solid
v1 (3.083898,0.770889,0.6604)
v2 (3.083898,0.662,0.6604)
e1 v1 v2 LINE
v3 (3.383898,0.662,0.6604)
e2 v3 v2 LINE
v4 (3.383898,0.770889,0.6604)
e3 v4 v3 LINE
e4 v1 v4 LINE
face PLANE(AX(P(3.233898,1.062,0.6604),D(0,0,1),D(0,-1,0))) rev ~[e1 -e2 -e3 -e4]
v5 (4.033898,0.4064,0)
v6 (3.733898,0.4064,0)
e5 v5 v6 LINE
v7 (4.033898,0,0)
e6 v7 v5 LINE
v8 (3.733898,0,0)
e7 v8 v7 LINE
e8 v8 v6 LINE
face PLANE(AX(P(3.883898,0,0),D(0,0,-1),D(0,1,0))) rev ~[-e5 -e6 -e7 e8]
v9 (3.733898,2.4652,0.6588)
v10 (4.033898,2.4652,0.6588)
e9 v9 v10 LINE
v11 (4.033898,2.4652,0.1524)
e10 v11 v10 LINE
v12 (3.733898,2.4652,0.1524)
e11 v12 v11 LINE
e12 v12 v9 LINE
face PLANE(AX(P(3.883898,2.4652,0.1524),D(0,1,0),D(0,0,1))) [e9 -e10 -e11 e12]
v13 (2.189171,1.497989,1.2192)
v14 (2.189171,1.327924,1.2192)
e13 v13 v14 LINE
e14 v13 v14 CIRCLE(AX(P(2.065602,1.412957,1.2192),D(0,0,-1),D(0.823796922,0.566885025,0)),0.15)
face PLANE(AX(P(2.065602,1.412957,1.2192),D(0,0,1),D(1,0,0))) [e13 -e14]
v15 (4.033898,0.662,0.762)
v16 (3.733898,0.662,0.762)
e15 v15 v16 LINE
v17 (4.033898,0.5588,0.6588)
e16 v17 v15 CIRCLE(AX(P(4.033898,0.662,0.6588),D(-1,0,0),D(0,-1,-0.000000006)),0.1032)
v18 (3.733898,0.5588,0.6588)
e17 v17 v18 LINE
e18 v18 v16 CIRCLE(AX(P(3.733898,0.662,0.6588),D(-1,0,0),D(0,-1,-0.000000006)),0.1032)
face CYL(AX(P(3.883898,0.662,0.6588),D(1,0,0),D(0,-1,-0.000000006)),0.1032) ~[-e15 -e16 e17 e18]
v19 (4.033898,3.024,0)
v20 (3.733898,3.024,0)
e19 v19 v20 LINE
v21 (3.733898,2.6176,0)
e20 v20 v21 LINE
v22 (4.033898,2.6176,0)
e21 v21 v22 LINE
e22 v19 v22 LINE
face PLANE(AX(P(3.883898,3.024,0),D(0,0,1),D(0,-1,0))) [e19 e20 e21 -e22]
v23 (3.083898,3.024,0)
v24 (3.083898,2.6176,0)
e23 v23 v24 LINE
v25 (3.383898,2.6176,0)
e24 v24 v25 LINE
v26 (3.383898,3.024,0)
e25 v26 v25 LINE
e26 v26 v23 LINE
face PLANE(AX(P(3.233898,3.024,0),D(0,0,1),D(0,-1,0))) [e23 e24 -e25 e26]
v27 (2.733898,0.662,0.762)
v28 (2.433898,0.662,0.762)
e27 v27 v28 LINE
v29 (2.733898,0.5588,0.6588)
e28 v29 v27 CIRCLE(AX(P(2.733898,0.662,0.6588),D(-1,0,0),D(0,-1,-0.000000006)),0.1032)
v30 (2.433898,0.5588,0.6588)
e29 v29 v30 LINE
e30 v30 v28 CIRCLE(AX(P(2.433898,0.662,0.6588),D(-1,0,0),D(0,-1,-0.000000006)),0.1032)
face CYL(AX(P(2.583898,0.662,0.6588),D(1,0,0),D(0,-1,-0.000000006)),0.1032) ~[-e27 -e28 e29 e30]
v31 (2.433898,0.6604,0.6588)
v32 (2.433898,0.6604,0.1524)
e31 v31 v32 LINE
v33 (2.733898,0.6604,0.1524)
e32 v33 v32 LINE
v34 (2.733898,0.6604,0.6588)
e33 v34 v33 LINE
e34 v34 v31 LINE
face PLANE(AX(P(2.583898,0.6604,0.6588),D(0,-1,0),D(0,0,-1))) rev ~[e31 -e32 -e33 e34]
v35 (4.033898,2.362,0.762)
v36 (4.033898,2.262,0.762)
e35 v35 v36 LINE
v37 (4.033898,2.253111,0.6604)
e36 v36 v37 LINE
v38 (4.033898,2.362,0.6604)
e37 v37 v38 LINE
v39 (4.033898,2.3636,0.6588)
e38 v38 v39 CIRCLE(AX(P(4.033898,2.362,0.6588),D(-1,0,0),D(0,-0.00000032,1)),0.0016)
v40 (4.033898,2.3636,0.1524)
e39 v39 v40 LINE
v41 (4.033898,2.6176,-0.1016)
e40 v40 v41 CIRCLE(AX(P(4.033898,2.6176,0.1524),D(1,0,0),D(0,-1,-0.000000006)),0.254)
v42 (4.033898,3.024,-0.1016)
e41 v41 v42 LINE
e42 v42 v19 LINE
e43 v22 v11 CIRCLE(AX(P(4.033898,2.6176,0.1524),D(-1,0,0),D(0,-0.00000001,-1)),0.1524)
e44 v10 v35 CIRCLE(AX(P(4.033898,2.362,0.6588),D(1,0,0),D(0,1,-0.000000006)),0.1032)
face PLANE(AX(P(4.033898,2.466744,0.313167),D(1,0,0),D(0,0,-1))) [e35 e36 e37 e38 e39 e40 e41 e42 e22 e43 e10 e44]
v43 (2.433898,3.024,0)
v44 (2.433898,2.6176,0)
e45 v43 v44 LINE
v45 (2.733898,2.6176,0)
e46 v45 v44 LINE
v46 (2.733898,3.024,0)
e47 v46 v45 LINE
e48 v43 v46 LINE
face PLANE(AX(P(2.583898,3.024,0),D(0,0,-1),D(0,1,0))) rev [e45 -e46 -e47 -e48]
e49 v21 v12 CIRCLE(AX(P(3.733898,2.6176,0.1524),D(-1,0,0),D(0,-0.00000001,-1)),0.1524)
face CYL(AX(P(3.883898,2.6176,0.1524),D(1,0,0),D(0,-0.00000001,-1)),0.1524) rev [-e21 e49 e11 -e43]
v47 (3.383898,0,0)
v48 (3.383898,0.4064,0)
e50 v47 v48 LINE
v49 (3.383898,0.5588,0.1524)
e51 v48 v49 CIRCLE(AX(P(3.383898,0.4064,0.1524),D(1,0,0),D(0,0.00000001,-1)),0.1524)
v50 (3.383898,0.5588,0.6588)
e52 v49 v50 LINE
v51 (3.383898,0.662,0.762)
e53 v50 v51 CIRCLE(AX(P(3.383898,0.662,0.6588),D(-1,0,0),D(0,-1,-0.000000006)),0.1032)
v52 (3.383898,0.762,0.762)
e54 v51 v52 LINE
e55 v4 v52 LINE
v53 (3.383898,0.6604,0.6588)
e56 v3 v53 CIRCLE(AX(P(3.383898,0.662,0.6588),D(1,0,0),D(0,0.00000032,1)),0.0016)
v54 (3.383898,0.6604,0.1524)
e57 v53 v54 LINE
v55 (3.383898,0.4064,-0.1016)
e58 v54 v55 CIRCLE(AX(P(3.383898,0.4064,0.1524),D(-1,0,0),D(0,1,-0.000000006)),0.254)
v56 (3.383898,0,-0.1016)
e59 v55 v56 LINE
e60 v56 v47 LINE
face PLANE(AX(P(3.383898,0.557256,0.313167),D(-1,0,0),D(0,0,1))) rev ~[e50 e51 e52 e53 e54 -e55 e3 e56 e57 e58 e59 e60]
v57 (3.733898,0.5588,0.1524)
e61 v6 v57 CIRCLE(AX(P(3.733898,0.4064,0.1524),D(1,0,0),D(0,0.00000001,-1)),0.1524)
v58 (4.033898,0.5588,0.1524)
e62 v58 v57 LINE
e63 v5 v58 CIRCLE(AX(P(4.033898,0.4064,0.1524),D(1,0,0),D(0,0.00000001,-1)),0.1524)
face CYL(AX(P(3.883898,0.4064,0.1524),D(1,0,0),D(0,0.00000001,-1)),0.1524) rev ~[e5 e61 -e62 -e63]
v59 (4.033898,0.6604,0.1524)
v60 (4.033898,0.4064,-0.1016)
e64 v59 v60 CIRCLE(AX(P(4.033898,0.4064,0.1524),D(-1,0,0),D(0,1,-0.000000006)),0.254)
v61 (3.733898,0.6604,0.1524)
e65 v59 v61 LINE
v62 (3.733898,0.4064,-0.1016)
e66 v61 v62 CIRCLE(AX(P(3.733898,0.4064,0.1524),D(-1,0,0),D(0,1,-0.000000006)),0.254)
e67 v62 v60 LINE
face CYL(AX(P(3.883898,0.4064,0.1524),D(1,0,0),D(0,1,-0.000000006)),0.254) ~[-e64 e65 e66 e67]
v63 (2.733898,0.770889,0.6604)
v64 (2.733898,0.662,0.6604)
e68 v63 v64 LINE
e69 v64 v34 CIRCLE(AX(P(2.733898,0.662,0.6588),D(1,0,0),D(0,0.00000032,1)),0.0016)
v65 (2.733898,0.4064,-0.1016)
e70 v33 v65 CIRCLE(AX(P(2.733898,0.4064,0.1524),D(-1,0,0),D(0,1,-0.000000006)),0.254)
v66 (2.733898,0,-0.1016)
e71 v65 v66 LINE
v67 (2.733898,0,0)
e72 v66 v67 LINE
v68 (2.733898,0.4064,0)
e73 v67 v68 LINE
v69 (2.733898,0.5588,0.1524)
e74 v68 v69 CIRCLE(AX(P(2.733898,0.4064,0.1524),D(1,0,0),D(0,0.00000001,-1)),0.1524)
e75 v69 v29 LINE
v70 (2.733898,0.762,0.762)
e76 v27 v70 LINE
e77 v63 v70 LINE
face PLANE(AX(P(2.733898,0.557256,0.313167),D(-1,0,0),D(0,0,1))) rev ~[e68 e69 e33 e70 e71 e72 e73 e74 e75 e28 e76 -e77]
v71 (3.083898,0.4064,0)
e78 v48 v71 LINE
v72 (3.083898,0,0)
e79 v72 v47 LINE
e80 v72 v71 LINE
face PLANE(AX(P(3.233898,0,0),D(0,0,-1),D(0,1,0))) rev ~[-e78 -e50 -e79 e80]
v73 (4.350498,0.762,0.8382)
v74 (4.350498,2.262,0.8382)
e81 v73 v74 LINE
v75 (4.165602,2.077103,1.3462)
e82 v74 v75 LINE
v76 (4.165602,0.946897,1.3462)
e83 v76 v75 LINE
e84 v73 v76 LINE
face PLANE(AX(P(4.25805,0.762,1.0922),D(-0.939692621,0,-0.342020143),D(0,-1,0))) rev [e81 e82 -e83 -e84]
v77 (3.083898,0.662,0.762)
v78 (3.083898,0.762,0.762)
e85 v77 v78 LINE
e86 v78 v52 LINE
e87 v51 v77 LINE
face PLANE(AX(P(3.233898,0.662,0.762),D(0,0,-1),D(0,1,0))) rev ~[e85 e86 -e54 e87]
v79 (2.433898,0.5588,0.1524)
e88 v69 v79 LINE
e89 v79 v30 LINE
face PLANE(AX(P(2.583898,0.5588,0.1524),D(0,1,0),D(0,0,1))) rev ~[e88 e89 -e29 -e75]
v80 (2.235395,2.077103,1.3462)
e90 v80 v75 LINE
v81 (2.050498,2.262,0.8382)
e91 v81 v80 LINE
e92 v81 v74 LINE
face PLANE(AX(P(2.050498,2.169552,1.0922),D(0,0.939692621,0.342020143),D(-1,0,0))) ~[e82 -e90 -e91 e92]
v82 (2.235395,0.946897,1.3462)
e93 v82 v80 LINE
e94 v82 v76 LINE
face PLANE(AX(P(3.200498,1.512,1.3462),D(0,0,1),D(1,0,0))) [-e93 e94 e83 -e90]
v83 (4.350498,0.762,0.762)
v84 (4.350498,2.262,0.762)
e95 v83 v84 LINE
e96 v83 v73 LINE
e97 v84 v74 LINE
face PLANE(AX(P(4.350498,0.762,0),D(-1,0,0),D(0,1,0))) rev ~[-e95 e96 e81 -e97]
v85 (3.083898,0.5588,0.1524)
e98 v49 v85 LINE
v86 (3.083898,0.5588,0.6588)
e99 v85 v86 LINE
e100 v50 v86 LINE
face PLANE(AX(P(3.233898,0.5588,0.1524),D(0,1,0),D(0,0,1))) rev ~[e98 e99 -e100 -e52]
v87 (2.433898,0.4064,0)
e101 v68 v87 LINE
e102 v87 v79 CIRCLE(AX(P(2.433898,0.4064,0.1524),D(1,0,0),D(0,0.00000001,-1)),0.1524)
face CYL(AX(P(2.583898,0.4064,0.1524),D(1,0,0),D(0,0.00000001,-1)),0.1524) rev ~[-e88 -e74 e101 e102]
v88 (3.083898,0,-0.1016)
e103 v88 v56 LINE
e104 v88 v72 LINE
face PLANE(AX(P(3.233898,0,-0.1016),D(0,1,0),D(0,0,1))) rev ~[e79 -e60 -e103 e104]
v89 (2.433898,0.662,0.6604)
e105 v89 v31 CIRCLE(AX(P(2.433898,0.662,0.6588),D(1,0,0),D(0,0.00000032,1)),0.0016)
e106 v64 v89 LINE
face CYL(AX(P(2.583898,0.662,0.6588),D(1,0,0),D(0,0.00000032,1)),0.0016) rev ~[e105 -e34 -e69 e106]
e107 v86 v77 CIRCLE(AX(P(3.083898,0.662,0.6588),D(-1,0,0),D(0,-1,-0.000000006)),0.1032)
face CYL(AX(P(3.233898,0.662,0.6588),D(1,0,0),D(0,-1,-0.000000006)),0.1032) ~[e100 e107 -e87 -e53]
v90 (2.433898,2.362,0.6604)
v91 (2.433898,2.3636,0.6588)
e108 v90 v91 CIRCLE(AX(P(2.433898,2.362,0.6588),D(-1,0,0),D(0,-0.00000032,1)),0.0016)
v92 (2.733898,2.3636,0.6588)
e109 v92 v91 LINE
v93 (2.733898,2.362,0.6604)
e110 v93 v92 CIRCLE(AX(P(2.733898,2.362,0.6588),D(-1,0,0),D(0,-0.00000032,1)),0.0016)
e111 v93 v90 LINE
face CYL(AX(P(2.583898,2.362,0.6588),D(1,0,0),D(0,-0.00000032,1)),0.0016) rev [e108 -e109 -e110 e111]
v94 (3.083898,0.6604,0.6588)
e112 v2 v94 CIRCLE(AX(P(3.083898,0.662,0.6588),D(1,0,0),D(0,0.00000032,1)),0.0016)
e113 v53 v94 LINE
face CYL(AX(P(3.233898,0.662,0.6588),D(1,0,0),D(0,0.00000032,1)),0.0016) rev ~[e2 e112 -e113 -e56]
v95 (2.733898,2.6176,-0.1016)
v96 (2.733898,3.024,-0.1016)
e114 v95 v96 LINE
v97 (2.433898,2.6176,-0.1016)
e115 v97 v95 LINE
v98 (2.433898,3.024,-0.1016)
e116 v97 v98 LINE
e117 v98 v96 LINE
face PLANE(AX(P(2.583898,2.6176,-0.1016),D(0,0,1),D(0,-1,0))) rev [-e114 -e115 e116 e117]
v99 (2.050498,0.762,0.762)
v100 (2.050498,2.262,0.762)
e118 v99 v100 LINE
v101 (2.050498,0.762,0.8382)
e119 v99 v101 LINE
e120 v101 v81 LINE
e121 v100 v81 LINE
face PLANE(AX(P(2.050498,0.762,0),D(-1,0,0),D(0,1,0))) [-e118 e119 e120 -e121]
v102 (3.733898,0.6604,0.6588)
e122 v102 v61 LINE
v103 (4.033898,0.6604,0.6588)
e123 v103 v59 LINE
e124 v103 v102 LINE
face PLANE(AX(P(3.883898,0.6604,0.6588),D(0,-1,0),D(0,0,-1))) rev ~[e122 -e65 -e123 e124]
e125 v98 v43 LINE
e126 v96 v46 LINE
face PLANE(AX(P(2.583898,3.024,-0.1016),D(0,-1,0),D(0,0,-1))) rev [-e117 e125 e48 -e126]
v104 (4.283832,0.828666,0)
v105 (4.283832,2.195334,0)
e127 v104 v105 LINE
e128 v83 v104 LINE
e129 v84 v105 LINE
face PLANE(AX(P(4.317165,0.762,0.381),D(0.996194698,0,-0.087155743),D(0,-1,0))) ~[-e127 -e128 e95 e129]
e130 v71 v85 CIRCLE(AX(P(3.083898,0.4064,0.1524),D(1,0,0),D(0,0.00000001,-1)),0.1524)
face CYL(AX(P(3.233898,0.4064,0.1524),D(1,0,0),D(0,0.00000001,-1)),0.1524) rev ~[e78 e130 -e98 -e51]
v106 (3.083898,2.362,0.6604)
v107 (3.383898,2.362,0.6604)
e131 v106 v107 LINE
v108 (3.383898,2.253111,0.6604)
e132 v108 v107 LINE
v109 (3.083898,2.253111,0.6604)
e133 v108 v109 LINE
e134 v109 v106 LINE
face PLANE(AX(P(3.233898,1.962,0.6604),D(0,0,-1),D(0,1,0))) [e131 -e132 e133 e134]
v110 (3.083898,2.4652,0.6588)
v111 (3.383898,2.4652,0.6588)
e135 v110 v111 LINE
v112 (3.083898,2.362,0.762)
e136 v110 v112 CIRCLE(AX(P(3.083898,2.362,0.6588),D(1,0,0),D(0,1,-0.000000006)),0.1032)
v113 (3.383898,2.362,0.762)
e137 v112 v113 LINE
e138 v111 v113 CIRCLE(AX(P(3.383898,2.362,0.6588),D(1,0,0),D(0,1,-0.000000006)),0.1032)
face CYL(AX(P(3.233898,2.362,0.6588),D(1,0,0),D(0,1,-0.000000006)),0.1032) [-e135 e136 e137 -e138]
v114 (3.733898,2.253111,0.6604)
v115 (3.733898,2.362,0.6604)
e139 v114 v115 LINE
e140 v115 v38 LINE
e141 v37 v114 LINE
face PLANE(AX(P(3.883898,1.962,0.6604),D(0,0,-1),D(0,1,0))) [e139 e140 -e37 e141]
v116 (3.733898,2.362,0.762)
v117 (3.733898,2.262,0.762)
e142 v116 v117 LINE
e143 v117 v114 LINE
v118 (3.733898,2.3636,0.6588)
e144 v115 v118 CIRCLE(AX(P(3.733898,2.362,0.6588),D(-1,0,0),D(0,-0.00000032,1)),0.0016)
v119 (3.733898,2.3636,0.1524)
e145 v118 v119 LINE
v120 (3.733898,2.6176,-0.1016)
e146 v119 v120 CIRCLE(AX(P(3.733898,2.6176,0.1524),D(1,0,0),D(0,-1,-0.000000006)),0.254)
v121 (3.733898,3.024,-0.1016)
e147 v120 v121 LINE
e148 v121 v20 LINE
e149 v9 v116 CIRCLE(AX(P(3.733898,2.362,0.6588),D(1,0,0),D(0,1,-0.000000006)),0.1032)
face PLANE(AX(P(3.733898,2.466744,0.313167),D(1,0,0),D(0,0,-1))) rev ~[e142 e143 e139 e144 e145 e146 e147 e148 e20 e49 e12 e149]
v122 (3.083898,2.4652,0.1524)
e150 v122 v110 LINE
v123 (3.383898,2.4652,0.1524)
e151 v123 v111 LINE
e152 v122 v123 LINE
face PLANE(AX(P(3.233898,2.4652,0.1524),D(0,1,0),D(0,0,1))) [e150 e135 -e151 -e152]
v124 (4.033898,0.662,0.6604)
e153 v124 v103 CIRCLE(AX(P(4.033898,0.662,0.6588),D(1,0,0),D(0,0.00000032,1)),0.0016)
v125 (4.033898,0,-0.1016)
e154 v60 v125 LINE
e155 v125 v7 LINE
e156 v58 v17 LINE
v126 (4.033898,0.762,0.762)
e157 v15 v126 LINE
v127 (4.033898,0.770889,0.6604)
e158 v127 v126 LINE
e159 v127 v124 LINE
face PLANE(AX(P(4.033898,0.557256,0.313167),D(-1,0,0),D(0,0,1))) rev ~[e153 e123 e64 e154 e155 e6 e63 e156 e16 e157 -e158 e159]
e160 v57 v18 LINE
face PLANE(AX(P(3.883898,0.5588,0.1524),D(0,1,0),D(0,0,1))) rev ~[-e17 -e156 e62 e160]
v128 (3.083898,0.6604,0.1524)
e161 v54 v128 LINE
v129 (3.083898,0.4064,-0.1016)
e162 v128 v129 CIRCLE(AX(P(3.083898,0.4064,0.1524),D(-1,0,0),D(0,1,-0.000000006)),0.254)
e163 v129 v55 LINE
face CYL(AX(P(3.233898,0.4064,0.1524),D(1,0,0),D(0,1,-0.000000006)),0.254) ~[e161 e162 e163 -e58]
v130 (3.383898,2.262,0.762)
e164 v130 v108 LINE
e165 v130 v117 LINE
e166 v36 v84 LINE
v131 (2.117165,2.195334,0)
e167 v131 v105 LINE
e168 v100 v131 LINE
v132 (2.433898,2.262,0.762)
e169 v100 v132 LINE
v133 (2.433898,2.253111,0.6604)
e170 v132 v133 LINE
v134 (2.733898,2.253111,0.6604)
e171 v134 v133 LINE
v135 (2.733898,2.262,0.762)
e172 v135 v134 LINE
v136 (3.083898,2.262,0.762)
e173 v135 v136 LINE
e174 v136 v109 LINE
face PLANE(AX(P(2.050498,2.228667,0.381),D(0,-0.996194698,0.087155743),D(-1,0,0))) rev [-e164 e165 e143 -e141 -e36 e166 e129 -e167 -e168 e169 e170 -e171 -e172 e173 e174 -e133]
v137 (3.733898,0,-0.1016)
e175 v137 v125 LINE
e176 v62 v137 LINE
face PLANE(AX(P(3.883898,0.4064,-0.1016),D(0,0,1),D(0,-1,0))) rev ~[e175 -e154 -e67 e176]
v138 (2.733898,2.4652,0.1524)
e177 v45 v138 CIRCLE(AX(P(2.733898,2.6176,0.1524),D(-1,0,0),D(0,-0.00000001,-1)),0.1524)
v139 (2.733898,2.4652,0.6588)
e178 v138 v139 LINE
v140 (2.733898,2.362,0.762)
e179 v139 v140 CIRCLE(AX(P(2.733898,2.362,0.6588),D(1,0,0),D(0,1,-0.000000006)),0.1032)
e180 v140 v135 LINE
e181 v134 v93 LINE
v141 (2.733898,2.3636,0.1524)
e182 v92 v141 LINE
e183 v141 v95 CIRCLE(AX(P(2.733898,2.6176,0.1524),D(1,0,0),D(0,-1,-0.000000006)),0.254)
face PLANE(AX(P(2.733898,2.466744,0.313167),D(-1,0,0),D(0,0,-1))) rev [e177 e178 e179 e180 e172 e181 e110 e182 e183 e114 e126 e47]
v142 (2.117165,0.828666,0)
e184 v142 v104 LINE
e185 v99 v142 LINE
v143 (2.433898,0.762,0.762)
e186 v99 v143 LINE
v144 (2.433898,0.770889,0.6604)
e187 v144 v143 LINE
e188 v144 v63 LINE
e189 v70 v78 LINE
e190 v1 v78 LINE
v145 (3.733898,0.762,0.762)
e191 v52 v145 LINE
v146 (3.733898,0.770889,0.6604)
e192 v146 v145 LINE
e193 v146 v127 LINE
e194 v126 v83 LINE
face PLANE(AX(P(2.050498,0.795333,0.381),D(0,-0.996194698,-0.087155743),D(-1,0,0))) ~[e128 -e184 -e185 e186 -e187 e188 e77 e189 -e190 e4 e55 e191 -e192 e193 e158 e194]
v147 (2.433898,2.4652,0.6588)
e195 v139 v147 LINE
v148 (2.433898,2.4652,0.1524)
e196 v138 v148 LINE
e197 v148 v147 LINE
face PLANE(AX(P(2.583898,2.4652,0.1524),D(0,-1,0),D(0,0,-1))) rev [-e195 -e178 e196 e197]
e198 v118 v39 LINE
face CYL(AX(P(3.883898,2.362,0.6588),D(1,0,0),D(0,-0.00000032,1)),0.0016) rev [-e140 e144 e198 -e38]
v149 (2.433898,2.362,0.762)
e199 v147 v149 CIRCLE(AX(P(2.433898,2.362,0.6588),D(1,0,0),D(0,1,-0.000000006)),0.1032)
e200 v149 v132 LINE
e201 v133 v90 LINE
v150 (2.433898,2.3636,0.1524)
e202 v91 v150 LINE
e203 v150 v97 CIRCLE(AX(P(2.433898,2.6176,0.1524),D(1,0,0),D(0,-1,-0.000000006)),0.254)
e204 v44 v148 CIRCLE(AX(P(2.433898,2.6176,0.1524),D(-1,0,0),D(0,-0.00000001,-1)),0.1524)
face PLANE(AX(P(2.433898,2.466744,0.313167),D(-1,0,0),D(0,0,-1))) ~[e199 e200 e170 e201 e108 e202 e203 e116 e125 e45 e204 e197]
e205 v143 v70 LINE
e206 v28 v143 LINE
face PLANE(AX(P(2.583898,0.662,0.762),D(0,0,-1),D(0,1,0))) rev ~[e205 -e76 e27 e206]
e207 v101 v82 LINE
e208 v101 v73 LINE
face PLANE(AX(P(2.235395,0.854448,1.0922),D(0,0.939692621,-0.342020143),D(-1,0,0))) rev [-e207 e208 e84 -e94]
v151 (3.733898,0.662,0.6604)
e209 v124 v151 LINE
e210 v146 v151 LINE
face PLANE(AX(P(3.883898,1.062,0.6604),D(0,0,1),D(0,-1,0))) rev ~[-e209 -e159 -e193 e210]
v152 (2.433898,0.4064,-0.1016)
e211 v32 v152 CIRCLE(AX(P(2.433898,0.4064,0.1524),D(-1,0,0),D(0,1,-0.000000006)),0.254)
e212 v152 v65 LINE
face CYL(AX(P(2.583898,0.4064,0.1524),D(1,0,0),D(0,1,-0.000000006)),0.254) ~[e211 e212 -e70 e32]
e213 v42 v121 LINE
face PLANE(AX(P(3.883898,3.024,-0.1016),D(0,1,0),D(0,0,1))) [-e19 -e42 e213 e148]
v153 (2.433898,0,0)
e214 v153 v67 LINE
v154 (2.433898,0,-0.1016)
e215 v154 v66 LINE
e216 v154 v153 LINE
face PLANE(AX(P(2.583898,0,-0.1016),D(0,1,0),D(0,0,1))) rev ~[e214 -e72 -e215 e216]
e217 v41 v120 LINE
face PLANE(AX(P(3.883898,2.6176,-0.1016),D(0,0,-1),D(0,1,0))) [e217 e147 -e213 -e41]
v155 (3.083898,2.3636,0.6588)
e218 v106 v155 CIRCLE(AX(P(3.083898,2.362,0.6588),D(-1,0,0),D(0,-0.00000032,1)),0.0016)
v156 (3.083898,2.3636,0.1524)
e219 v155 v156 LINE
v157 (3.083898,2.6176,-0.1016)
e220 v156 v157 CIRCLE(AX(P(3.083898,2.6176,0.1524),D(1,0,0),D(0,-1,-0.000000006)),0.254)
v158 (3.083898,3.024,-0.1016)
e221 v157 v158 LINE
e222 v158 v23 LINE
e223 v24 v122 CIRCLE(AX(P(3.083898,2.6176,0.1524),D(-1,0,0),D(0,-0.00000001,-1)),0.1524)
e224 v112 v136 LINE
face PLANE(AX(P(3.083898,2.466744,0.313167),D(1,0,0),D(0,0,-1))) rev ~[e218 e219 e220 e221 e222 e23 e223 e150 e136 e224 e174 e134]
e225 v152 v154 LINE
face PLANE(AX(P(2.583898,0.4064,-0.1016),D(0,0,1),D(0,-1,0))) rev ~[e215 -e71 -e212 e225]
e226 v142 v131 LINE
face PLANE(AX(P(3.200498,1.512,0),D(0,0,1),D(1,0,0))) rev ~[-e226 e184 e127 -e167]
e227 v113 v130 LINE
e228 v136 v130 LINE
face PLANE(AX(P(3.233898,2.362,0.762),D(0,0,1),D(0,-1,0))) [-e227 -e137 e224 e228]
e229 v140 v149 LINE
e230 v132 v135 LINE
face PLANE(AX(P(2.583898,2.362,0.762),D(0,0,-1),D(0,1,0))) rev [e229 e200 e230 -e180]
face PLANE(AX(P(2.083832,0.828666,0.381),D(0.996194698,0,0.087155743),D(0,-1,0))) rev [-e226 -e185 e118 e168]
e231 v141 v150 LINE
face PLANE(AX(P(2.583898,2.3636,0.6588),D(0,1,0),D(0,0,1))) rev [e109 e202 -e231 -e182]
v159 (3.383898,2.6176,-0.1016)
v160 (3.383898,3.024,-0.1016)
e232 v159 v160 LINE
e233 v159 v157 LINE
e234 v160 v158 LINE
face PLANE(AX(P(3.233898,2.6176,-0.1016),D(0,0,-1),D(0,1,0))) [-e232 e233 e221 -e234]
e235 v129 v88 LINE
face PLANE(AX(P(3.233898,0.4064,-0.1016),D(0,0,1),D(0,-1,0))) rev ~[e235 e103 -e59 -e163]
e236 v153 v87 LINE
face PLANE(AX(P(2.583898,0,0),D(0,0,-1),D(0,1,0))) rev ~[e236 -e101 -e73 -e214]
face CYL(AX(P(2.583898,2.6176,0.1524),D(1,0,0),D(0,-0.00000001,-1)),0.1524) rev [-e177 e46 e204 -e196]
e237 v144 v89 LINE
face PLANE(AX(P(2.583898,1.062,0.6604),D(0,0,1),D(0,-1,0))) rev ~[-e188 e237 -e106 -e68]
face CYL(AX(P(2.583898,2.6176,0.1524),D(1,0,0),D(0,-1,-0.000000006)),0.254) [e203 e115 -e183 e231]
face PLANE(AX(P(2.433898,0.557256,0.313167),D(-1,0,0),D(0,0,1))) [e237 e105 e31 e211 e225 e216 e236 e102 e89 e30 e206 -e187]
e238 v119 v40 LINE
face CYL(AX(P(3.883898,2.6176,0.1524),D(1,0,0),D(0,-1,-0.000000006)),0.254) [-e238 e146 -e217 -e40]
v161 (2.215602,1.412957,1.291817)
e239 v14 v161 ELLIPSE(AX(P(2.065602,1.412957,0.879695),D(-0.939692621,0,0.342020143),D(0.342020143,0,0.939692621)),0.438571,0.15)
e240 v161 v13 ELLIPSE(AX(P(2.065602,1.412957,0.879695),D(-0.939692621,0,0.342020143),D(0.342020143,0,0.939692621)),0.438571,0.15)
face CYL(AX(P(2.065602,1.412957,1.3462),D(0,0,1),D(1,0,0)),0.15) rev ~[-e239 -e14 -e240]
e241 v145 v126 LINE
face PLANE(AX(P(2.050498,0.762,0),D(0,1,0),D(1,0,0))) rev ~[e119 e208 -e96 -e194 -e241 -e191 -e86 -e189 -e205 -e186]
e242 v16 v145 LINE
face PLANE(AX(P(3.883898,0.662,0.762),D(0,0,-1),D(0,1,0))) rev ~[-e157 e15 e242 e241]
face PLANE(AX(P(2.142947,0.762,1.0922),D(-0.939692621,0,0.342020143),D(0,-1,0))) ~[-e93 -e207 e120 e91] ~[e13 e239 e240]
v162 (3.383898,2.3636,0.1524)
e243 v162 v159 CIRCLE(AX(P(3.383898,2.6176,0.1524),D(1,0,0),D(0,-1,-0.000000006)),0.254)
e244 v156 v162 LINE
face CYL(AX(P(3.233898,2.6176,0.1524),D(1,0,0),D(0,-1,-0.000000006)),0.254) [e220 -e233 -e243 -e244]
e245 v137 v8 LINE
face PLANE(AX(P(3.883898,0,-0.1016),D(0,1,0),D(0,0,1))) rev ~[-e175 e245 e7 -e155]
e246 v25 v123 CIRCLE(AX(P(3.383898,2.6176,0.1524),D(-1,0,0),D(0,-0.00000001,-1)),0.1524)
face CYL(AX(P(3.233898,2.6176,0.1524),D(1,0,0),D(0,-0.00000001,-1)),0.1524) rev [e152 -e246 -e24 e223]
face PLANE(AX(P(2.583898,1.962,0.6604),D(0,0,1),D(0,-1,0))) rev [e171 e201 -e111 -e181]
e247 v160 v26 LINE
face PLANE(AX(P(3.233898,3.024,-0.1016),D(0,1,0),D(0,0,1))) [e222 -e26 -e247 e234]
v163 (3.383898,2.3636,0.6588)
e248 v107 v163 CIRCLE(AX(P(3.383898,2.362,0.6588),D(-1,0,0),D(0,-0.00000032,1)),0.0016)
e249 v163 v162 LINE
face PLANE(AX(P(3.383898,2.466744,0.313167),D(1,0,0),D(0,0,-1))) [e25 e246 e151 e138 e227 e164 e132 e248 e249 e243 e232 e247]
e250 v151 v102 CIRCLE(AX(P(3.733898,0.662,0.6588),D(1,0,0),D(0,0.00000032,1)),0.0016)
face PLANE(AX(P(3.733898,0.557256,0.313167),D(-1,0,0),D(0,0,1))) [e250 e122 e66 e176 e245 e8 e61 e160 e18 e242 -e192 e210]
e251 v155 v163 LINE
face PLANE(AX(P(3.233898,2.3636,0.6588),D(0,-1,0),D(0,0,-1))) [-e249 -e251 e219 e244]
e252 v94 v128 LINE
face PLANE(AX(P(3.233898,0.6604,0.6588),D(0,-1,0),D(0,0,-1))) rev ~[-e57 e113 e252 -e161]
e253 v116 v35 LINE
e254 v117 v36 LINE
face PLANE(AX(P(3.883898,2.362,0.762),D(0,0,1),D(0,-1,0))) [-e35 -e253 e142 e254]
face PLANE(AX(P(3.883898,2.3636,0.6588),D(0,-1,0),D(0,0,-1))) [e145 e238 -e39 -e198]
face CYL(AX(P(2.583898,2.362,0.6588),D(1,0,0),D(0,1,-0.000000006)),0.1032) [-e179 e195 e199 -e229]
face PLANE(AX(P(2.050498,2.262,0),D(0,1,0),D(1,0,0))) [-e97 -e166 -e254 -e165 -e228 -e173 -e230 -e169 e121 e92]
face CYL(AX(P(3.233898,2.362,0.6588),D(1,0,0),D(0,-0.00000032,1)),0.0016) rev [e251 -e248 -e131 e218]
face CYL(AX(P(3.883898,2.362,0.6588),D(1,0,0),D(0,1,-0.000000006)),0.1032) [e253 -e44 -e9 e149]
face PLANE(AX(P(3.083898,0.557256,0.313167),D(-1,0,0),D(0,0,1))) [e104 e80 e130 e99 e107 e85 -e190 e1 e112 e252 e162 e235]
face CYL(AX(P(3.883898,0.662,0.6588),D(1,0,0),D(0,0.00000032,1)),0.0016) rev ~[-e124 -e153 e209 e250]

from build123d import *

# Parameters (mm, degrees)
SKETCH1_W                = 2.3
SKETCH1_H                = 1.5
BASE_EXTRUDE_DEPTH       = 1.3462
CHAMFER1_SIZE            = 0.508
CHAMFER1_SIZE2           = 0.184896879
CHAMFER1_PART_2_SIZE     = 0.508
CHAMFER1_PART_2_SIZE2    = 0.184896879
CHAMFER1_PART_3_SIZE     = 0.508
CHAMFER1_PART_3_SIZE2    = 0.184896879
CHAMFER1_PART_4_SIZE     = 0.508
CHAMFER1_PART_4_SIZE2    = 0.184896879
CHAMFER2_SIZE            = 0.762
CHAMFER2_SIZE2           = 0.066666362
CHAMFER2_PART_2_SIZE     = 0.762
CHAMFER2_PART_2_SIZE2    = 0.066666362
CHAMFER2_PART_3_SIZE     = 0.762
CHAMFER2_PART_3_SIZE2    = 0.066666362
CHAMFER2_PART_4_SIZE     = 0.762
CHAMFER2_PART_4_SIZE2    = 0.066666362
SKETCH3_R                = 0.15
CUT_EXTRUDE1_DEPTH       = 0.127
BOSS_EXTRUDE_THIN3_DEPTH = 0.15
LPATTERN1_COUNT          = 3
LPATTERN1_PITCH          = 0.65
MIRROR1_COPY_1_DEPTH     = 0.15
MIRROR1_COPY_2_DEPTH     = 0.15


with BuildPart() as part:
    # Sketch1 → Base-Extrude (new body)
    with BuildSketch(Plane.XY):
        with Locations((3.200498433, 1.512)):
            Rectangle(SKETCH1_W, SKETCH1_H)
    extrude(amount=BASE_EXTRUDE_DEPTH)

    # Chamfer1
    chamfer1_edges = [part.edges().sort_by_distance(p)[0] for p in [
        (4.350498433, 1.512, 1.3462),
    ]]
    chamfer1_side = [part.faces().sort_by_distance(p)[0] for p in [
        (4.350498433, 1.512, 0.6731),
    ]]
    chamfer(chamfer1_edges, length=CHAMFER1_SIZE, length2=CHAMFER1_SIZE2, reference=chamfer1_side[0])

    # Chamfer1 part 2
    chamfer1_part_2_edges = [part.edges().sort_by_distance(p)[0] for p in [
        (3.200498433, 2.262, 1.3462),
    ]]
    chamfer1_part_2_side = [part.faces().sort_by_distance(p)[0] for p in [
        (3.200498433, 2.262, 0.6731),
    ]]
    chamfer(chamfer1_part_2_edges, length=CHAMFER1_PART_2_SIZE, length2=CHAMFER1_PART_2_SIZE2, reference=chamfer1_part_2_side[0])

    # Chamfer1 part 3
    chamfer1_part_3_edges = [part.edges().sort_by_distance(p)[0] for p in [
        (2.050498433, 1.512, 1.3462),
    ]]
    chamfer1_part_3_side = [part.faces().sort_by_distance(p)[0] for p in [
        (2.050498433, 1.512, 0.6731),
    ]]
    chamfer(chamfer1_part_3_edges, length=CHAMFER1_PART_3_SIZE, length2=CHAMFER1_PART_3_SIZE2, reference=chamfer1_part_3_side[0])

    # Chamfer1 part 4
    chamfer1_part_4_edges = [part.edges().sort_by_distance(p)[0] for p in [
        (3.200498433, 0.762, 1.3462),
    ]]
    chamfer1_part_4_side = [part.faces().sort_by_distance(p)[0] for p in [
        (3.200498433, 0.762, 0.6731),
    ]]
    chamfer(chamfer1_part_4_edges, length=CHAMFER1_PART_4_SIZE, length2=CHAMFER1_PART_4_SIZE2, reference=chamfer1_part_4_side[0])

    # Chamfer2
    chamfer2_edges = [part.edges().sort_by_distance(p)[0] for p in [
        (3.200498433, 2.262, 0),
    ]]
    chamfer2_side = [part.faces().sort_by_distance(p)[0] for p in [
        (3.200498433, 2.262, 0.4191),
    ]]
    chamfer(chamfer2_edges, length=CHAMFER2_SIZE, length2=CHAMFER2_SIZE2, reference=chamfer2_side[0])

    # Chamfer2 part 2
    chamfer2_part_2_edges = [part.edges().sort_by_distance(p)[0] for p in [
        (4.350498433, 1.512, 0),
    ]]
    chamfer2_part_2_side = [part.faces().sort_by_distance(p)[0] for p in [
        (4.350498433, 1.512, 0.4191),
    ]]
    chamfer(chamfer2_part_2_edges, length=CHAMFER2_PART_2_SIZE, length2=CHAMFER2_PART_2_SIZE2, reference=chamfer2_part_2_side[0])

    # Chamfer2 part 3
    chamfer2_part_3_edges = [part.edges().sort_by_distance(p)[0] for p in [
        (3.200498433, 0.762, 0),
    ]]
    chamfer2_part_3_side = [part.faces().sort_by_distance(p)[0] for p in [
        (3.200498433, 0.762, 0.4191),
    ]]
    chamfer(chamfer2_part_3_edges, length=CHAMFER2_PART_3_SIZE, length2=CHAMFER2_PART_3_SIZE2, reference=chamfer2_part_3_side[0])

    # Chamfer2 part 4
    chamfer2_part_4_edges = [part.edges().sort_by_distance(p)[0] for p in [
        (2.050498433, 1.512, 0),
    ]]
    chamfer2_part_4_side = [part.faces().sort_by_distance(p)[0] for p in [
        (2.050498433, 1.512, 0.4191),
    ]]
    chamfer(chamfer2_part_4_edges, length=CHAMFER2_PART_4_SIZE, length2=CHAMFER2_PART_4_SIZE2, reference=chamfer2_part_4_side[0])

    # Sketch3 → Cut-Extrude1 (cut)
    with BuildSketch(Plane(origin=(0.118935742, 0.142956615, 1.3462), x_dir=(1, 0, 0), z_dir=(0, 0, 1))):
        with Locations((1.946665812, 1.27)):
            Circle(SKETCH3_R)
    extrude(amount=-CUT_EXTRUDE1_DEPTH, mode=Mode.SUBTRACT)

    # Sketch4 → Boss-Extrude-Thin3 (add, symmetric)
    with BuildSketch(Plane(origin=(2.583898433, 0, 0), x_dir=(0, 0, -1), z_dir=(1, 0, 0))):
        with BuildLine():
            Line((0, 0), (0, 0.4064))
            ThreePointArc((0, 0.4064), (-0.044636927, 0.514163073), (-0.1524, 0.5588))
            Line((-0.1524, 0.5588), (-0.6588, 0.5588))
            ThreePointArc((-0.6588, 0.5588), (-0.73177342, 0.58902658), (-0.762, 0.662))
            Line((-0.762, 0.662), (-0.762, 1.062))
            Line((-0.762, 1.062), (-0.6604, 1.062))
            Line((-0.6604, 1.062), (-0.6604, 0.662))
            ThreePointArc((-0.6604, 0.662), (-0.659931371, 0.660868629), (-0.6588, 0.6604))
            Line((-0.6588, 0.6604), (-0.1524, 0.6604))
            ThreePointArc((-0.1524, 0.6604), (0.027205122, 0.586005122), (0.1016, 0.4064))
            Line((0.1016, 0.4064), (0.1016, 0))
            Line((0.1016, 0), (0, 0))
        make_face()
    boss_extrude_thin3 = extrude(amount=BOSS_EXTRUDE_THIN3_DEPTH, both=True)

    # LPattern1: Boss-Extrude-Thin3 ×3
    with Locations(*[(i * LPATTERN1_PITCH, 0, 0) for i in range(1, LPATTERN1_COUNT)]):
        add(boss_extrude_thin3)

    # Mirror1: Boss-Extrude-Thin3 across plane
    add(boss_extrude_thin3.mirror(Plane.ZX.offset(1.512)))

    # Mirror1 copy 1 sketch → Mirror1 copy 1 (add, symmetric)
    with BuildSketch(Plane(origin=(3.233898433, 3.024, 0), x_dir=(0, 0, -1), z_dir=(1, 0, 0))):
        with BuildLine():
            Line((0, 0), (0, -0.4064))
            ThreePointArc((0, -0.4064), (-0.044636927, -0.514163073), (-0.1524, -0.5588))
            Line((-0.1524, -0.5588), (-0.6588, -0.5588))
            ThreePointArc((-0.6588, -0.5588), (-0.73177342, -0.58902658), (-0.762, -0.662))
            Line((-0.762, -0.662), (-0.762, -1.062))
            Line((-0.762, -1.062), (-0.6604, -1.062))
            Line((-0.6604, -1.062), (-0.6604, -0.662))
            ThreePointArc((-0.6604, -0.662), (-0.659931371, -0.660868629), (-0.6588, -0.6604))
            Line((-0.6588, -0.6604), (-0.1524, -0.6604))
            ThreePointArc((-0.1524, -0.6604), (0.027205122, -0.586005122), (0.1016, -0.4064))
            Line((0.1016, -0.4064), (0.1016, 0))
            Line((0.1016, 0), (0, 0))
        make_face()
    extrude(amount=MIRROR1_COPY_1_DEPTH, both=True)

    # Mirror1 copy 2 sketch → Mirror1 copy 2 (add, symmetric)
    with BuildSketch(Plane(origin=(3.883898433, 3.024, 0), x_dir=(0, 0, -1), z_dir=(1, 0, 0))):
        with BuildLine():
            Line((0, 0), (0, -0.4064))
            ThreePointArc((0, -0.4064), (-0.044636927, -0.514163073), (-0.1524, -0.5588))
            Line((-0.1524, -0.5588), (-0.6588, -0.5588))
            ThreePointArc((-0.6588, -0.5588), (-0.73177342, -0.58902658), (-0.762, -0.662))
            Line((-0.762, -0.662), (-0.762, -1.062))
            Line((-0.762, -1.062), (-0.6604, -1.062))
            Line((-0.6604, -1.062), (-0.6604, -0.662))
            ThreePointArc((-0.6604, -0.662), (-0.659931371, -0.660868629), (-0.6588, -0.6604))
            Line((-0.6588, -0.6604), (-0.1524, -0.6604))
            ThreePointArc((-0.1524, -0.6604), (0.027205122, -0.586005122), (0.1016, -0.4064))
            Line((0.1016, -0.4064), (0.1016, 0))
            Line((0.1016, 0), (0, 0))
        make_face()
    extrude(amount=MIRROR1_COPY_2_DEPTH, both=True)


solid = part.part
